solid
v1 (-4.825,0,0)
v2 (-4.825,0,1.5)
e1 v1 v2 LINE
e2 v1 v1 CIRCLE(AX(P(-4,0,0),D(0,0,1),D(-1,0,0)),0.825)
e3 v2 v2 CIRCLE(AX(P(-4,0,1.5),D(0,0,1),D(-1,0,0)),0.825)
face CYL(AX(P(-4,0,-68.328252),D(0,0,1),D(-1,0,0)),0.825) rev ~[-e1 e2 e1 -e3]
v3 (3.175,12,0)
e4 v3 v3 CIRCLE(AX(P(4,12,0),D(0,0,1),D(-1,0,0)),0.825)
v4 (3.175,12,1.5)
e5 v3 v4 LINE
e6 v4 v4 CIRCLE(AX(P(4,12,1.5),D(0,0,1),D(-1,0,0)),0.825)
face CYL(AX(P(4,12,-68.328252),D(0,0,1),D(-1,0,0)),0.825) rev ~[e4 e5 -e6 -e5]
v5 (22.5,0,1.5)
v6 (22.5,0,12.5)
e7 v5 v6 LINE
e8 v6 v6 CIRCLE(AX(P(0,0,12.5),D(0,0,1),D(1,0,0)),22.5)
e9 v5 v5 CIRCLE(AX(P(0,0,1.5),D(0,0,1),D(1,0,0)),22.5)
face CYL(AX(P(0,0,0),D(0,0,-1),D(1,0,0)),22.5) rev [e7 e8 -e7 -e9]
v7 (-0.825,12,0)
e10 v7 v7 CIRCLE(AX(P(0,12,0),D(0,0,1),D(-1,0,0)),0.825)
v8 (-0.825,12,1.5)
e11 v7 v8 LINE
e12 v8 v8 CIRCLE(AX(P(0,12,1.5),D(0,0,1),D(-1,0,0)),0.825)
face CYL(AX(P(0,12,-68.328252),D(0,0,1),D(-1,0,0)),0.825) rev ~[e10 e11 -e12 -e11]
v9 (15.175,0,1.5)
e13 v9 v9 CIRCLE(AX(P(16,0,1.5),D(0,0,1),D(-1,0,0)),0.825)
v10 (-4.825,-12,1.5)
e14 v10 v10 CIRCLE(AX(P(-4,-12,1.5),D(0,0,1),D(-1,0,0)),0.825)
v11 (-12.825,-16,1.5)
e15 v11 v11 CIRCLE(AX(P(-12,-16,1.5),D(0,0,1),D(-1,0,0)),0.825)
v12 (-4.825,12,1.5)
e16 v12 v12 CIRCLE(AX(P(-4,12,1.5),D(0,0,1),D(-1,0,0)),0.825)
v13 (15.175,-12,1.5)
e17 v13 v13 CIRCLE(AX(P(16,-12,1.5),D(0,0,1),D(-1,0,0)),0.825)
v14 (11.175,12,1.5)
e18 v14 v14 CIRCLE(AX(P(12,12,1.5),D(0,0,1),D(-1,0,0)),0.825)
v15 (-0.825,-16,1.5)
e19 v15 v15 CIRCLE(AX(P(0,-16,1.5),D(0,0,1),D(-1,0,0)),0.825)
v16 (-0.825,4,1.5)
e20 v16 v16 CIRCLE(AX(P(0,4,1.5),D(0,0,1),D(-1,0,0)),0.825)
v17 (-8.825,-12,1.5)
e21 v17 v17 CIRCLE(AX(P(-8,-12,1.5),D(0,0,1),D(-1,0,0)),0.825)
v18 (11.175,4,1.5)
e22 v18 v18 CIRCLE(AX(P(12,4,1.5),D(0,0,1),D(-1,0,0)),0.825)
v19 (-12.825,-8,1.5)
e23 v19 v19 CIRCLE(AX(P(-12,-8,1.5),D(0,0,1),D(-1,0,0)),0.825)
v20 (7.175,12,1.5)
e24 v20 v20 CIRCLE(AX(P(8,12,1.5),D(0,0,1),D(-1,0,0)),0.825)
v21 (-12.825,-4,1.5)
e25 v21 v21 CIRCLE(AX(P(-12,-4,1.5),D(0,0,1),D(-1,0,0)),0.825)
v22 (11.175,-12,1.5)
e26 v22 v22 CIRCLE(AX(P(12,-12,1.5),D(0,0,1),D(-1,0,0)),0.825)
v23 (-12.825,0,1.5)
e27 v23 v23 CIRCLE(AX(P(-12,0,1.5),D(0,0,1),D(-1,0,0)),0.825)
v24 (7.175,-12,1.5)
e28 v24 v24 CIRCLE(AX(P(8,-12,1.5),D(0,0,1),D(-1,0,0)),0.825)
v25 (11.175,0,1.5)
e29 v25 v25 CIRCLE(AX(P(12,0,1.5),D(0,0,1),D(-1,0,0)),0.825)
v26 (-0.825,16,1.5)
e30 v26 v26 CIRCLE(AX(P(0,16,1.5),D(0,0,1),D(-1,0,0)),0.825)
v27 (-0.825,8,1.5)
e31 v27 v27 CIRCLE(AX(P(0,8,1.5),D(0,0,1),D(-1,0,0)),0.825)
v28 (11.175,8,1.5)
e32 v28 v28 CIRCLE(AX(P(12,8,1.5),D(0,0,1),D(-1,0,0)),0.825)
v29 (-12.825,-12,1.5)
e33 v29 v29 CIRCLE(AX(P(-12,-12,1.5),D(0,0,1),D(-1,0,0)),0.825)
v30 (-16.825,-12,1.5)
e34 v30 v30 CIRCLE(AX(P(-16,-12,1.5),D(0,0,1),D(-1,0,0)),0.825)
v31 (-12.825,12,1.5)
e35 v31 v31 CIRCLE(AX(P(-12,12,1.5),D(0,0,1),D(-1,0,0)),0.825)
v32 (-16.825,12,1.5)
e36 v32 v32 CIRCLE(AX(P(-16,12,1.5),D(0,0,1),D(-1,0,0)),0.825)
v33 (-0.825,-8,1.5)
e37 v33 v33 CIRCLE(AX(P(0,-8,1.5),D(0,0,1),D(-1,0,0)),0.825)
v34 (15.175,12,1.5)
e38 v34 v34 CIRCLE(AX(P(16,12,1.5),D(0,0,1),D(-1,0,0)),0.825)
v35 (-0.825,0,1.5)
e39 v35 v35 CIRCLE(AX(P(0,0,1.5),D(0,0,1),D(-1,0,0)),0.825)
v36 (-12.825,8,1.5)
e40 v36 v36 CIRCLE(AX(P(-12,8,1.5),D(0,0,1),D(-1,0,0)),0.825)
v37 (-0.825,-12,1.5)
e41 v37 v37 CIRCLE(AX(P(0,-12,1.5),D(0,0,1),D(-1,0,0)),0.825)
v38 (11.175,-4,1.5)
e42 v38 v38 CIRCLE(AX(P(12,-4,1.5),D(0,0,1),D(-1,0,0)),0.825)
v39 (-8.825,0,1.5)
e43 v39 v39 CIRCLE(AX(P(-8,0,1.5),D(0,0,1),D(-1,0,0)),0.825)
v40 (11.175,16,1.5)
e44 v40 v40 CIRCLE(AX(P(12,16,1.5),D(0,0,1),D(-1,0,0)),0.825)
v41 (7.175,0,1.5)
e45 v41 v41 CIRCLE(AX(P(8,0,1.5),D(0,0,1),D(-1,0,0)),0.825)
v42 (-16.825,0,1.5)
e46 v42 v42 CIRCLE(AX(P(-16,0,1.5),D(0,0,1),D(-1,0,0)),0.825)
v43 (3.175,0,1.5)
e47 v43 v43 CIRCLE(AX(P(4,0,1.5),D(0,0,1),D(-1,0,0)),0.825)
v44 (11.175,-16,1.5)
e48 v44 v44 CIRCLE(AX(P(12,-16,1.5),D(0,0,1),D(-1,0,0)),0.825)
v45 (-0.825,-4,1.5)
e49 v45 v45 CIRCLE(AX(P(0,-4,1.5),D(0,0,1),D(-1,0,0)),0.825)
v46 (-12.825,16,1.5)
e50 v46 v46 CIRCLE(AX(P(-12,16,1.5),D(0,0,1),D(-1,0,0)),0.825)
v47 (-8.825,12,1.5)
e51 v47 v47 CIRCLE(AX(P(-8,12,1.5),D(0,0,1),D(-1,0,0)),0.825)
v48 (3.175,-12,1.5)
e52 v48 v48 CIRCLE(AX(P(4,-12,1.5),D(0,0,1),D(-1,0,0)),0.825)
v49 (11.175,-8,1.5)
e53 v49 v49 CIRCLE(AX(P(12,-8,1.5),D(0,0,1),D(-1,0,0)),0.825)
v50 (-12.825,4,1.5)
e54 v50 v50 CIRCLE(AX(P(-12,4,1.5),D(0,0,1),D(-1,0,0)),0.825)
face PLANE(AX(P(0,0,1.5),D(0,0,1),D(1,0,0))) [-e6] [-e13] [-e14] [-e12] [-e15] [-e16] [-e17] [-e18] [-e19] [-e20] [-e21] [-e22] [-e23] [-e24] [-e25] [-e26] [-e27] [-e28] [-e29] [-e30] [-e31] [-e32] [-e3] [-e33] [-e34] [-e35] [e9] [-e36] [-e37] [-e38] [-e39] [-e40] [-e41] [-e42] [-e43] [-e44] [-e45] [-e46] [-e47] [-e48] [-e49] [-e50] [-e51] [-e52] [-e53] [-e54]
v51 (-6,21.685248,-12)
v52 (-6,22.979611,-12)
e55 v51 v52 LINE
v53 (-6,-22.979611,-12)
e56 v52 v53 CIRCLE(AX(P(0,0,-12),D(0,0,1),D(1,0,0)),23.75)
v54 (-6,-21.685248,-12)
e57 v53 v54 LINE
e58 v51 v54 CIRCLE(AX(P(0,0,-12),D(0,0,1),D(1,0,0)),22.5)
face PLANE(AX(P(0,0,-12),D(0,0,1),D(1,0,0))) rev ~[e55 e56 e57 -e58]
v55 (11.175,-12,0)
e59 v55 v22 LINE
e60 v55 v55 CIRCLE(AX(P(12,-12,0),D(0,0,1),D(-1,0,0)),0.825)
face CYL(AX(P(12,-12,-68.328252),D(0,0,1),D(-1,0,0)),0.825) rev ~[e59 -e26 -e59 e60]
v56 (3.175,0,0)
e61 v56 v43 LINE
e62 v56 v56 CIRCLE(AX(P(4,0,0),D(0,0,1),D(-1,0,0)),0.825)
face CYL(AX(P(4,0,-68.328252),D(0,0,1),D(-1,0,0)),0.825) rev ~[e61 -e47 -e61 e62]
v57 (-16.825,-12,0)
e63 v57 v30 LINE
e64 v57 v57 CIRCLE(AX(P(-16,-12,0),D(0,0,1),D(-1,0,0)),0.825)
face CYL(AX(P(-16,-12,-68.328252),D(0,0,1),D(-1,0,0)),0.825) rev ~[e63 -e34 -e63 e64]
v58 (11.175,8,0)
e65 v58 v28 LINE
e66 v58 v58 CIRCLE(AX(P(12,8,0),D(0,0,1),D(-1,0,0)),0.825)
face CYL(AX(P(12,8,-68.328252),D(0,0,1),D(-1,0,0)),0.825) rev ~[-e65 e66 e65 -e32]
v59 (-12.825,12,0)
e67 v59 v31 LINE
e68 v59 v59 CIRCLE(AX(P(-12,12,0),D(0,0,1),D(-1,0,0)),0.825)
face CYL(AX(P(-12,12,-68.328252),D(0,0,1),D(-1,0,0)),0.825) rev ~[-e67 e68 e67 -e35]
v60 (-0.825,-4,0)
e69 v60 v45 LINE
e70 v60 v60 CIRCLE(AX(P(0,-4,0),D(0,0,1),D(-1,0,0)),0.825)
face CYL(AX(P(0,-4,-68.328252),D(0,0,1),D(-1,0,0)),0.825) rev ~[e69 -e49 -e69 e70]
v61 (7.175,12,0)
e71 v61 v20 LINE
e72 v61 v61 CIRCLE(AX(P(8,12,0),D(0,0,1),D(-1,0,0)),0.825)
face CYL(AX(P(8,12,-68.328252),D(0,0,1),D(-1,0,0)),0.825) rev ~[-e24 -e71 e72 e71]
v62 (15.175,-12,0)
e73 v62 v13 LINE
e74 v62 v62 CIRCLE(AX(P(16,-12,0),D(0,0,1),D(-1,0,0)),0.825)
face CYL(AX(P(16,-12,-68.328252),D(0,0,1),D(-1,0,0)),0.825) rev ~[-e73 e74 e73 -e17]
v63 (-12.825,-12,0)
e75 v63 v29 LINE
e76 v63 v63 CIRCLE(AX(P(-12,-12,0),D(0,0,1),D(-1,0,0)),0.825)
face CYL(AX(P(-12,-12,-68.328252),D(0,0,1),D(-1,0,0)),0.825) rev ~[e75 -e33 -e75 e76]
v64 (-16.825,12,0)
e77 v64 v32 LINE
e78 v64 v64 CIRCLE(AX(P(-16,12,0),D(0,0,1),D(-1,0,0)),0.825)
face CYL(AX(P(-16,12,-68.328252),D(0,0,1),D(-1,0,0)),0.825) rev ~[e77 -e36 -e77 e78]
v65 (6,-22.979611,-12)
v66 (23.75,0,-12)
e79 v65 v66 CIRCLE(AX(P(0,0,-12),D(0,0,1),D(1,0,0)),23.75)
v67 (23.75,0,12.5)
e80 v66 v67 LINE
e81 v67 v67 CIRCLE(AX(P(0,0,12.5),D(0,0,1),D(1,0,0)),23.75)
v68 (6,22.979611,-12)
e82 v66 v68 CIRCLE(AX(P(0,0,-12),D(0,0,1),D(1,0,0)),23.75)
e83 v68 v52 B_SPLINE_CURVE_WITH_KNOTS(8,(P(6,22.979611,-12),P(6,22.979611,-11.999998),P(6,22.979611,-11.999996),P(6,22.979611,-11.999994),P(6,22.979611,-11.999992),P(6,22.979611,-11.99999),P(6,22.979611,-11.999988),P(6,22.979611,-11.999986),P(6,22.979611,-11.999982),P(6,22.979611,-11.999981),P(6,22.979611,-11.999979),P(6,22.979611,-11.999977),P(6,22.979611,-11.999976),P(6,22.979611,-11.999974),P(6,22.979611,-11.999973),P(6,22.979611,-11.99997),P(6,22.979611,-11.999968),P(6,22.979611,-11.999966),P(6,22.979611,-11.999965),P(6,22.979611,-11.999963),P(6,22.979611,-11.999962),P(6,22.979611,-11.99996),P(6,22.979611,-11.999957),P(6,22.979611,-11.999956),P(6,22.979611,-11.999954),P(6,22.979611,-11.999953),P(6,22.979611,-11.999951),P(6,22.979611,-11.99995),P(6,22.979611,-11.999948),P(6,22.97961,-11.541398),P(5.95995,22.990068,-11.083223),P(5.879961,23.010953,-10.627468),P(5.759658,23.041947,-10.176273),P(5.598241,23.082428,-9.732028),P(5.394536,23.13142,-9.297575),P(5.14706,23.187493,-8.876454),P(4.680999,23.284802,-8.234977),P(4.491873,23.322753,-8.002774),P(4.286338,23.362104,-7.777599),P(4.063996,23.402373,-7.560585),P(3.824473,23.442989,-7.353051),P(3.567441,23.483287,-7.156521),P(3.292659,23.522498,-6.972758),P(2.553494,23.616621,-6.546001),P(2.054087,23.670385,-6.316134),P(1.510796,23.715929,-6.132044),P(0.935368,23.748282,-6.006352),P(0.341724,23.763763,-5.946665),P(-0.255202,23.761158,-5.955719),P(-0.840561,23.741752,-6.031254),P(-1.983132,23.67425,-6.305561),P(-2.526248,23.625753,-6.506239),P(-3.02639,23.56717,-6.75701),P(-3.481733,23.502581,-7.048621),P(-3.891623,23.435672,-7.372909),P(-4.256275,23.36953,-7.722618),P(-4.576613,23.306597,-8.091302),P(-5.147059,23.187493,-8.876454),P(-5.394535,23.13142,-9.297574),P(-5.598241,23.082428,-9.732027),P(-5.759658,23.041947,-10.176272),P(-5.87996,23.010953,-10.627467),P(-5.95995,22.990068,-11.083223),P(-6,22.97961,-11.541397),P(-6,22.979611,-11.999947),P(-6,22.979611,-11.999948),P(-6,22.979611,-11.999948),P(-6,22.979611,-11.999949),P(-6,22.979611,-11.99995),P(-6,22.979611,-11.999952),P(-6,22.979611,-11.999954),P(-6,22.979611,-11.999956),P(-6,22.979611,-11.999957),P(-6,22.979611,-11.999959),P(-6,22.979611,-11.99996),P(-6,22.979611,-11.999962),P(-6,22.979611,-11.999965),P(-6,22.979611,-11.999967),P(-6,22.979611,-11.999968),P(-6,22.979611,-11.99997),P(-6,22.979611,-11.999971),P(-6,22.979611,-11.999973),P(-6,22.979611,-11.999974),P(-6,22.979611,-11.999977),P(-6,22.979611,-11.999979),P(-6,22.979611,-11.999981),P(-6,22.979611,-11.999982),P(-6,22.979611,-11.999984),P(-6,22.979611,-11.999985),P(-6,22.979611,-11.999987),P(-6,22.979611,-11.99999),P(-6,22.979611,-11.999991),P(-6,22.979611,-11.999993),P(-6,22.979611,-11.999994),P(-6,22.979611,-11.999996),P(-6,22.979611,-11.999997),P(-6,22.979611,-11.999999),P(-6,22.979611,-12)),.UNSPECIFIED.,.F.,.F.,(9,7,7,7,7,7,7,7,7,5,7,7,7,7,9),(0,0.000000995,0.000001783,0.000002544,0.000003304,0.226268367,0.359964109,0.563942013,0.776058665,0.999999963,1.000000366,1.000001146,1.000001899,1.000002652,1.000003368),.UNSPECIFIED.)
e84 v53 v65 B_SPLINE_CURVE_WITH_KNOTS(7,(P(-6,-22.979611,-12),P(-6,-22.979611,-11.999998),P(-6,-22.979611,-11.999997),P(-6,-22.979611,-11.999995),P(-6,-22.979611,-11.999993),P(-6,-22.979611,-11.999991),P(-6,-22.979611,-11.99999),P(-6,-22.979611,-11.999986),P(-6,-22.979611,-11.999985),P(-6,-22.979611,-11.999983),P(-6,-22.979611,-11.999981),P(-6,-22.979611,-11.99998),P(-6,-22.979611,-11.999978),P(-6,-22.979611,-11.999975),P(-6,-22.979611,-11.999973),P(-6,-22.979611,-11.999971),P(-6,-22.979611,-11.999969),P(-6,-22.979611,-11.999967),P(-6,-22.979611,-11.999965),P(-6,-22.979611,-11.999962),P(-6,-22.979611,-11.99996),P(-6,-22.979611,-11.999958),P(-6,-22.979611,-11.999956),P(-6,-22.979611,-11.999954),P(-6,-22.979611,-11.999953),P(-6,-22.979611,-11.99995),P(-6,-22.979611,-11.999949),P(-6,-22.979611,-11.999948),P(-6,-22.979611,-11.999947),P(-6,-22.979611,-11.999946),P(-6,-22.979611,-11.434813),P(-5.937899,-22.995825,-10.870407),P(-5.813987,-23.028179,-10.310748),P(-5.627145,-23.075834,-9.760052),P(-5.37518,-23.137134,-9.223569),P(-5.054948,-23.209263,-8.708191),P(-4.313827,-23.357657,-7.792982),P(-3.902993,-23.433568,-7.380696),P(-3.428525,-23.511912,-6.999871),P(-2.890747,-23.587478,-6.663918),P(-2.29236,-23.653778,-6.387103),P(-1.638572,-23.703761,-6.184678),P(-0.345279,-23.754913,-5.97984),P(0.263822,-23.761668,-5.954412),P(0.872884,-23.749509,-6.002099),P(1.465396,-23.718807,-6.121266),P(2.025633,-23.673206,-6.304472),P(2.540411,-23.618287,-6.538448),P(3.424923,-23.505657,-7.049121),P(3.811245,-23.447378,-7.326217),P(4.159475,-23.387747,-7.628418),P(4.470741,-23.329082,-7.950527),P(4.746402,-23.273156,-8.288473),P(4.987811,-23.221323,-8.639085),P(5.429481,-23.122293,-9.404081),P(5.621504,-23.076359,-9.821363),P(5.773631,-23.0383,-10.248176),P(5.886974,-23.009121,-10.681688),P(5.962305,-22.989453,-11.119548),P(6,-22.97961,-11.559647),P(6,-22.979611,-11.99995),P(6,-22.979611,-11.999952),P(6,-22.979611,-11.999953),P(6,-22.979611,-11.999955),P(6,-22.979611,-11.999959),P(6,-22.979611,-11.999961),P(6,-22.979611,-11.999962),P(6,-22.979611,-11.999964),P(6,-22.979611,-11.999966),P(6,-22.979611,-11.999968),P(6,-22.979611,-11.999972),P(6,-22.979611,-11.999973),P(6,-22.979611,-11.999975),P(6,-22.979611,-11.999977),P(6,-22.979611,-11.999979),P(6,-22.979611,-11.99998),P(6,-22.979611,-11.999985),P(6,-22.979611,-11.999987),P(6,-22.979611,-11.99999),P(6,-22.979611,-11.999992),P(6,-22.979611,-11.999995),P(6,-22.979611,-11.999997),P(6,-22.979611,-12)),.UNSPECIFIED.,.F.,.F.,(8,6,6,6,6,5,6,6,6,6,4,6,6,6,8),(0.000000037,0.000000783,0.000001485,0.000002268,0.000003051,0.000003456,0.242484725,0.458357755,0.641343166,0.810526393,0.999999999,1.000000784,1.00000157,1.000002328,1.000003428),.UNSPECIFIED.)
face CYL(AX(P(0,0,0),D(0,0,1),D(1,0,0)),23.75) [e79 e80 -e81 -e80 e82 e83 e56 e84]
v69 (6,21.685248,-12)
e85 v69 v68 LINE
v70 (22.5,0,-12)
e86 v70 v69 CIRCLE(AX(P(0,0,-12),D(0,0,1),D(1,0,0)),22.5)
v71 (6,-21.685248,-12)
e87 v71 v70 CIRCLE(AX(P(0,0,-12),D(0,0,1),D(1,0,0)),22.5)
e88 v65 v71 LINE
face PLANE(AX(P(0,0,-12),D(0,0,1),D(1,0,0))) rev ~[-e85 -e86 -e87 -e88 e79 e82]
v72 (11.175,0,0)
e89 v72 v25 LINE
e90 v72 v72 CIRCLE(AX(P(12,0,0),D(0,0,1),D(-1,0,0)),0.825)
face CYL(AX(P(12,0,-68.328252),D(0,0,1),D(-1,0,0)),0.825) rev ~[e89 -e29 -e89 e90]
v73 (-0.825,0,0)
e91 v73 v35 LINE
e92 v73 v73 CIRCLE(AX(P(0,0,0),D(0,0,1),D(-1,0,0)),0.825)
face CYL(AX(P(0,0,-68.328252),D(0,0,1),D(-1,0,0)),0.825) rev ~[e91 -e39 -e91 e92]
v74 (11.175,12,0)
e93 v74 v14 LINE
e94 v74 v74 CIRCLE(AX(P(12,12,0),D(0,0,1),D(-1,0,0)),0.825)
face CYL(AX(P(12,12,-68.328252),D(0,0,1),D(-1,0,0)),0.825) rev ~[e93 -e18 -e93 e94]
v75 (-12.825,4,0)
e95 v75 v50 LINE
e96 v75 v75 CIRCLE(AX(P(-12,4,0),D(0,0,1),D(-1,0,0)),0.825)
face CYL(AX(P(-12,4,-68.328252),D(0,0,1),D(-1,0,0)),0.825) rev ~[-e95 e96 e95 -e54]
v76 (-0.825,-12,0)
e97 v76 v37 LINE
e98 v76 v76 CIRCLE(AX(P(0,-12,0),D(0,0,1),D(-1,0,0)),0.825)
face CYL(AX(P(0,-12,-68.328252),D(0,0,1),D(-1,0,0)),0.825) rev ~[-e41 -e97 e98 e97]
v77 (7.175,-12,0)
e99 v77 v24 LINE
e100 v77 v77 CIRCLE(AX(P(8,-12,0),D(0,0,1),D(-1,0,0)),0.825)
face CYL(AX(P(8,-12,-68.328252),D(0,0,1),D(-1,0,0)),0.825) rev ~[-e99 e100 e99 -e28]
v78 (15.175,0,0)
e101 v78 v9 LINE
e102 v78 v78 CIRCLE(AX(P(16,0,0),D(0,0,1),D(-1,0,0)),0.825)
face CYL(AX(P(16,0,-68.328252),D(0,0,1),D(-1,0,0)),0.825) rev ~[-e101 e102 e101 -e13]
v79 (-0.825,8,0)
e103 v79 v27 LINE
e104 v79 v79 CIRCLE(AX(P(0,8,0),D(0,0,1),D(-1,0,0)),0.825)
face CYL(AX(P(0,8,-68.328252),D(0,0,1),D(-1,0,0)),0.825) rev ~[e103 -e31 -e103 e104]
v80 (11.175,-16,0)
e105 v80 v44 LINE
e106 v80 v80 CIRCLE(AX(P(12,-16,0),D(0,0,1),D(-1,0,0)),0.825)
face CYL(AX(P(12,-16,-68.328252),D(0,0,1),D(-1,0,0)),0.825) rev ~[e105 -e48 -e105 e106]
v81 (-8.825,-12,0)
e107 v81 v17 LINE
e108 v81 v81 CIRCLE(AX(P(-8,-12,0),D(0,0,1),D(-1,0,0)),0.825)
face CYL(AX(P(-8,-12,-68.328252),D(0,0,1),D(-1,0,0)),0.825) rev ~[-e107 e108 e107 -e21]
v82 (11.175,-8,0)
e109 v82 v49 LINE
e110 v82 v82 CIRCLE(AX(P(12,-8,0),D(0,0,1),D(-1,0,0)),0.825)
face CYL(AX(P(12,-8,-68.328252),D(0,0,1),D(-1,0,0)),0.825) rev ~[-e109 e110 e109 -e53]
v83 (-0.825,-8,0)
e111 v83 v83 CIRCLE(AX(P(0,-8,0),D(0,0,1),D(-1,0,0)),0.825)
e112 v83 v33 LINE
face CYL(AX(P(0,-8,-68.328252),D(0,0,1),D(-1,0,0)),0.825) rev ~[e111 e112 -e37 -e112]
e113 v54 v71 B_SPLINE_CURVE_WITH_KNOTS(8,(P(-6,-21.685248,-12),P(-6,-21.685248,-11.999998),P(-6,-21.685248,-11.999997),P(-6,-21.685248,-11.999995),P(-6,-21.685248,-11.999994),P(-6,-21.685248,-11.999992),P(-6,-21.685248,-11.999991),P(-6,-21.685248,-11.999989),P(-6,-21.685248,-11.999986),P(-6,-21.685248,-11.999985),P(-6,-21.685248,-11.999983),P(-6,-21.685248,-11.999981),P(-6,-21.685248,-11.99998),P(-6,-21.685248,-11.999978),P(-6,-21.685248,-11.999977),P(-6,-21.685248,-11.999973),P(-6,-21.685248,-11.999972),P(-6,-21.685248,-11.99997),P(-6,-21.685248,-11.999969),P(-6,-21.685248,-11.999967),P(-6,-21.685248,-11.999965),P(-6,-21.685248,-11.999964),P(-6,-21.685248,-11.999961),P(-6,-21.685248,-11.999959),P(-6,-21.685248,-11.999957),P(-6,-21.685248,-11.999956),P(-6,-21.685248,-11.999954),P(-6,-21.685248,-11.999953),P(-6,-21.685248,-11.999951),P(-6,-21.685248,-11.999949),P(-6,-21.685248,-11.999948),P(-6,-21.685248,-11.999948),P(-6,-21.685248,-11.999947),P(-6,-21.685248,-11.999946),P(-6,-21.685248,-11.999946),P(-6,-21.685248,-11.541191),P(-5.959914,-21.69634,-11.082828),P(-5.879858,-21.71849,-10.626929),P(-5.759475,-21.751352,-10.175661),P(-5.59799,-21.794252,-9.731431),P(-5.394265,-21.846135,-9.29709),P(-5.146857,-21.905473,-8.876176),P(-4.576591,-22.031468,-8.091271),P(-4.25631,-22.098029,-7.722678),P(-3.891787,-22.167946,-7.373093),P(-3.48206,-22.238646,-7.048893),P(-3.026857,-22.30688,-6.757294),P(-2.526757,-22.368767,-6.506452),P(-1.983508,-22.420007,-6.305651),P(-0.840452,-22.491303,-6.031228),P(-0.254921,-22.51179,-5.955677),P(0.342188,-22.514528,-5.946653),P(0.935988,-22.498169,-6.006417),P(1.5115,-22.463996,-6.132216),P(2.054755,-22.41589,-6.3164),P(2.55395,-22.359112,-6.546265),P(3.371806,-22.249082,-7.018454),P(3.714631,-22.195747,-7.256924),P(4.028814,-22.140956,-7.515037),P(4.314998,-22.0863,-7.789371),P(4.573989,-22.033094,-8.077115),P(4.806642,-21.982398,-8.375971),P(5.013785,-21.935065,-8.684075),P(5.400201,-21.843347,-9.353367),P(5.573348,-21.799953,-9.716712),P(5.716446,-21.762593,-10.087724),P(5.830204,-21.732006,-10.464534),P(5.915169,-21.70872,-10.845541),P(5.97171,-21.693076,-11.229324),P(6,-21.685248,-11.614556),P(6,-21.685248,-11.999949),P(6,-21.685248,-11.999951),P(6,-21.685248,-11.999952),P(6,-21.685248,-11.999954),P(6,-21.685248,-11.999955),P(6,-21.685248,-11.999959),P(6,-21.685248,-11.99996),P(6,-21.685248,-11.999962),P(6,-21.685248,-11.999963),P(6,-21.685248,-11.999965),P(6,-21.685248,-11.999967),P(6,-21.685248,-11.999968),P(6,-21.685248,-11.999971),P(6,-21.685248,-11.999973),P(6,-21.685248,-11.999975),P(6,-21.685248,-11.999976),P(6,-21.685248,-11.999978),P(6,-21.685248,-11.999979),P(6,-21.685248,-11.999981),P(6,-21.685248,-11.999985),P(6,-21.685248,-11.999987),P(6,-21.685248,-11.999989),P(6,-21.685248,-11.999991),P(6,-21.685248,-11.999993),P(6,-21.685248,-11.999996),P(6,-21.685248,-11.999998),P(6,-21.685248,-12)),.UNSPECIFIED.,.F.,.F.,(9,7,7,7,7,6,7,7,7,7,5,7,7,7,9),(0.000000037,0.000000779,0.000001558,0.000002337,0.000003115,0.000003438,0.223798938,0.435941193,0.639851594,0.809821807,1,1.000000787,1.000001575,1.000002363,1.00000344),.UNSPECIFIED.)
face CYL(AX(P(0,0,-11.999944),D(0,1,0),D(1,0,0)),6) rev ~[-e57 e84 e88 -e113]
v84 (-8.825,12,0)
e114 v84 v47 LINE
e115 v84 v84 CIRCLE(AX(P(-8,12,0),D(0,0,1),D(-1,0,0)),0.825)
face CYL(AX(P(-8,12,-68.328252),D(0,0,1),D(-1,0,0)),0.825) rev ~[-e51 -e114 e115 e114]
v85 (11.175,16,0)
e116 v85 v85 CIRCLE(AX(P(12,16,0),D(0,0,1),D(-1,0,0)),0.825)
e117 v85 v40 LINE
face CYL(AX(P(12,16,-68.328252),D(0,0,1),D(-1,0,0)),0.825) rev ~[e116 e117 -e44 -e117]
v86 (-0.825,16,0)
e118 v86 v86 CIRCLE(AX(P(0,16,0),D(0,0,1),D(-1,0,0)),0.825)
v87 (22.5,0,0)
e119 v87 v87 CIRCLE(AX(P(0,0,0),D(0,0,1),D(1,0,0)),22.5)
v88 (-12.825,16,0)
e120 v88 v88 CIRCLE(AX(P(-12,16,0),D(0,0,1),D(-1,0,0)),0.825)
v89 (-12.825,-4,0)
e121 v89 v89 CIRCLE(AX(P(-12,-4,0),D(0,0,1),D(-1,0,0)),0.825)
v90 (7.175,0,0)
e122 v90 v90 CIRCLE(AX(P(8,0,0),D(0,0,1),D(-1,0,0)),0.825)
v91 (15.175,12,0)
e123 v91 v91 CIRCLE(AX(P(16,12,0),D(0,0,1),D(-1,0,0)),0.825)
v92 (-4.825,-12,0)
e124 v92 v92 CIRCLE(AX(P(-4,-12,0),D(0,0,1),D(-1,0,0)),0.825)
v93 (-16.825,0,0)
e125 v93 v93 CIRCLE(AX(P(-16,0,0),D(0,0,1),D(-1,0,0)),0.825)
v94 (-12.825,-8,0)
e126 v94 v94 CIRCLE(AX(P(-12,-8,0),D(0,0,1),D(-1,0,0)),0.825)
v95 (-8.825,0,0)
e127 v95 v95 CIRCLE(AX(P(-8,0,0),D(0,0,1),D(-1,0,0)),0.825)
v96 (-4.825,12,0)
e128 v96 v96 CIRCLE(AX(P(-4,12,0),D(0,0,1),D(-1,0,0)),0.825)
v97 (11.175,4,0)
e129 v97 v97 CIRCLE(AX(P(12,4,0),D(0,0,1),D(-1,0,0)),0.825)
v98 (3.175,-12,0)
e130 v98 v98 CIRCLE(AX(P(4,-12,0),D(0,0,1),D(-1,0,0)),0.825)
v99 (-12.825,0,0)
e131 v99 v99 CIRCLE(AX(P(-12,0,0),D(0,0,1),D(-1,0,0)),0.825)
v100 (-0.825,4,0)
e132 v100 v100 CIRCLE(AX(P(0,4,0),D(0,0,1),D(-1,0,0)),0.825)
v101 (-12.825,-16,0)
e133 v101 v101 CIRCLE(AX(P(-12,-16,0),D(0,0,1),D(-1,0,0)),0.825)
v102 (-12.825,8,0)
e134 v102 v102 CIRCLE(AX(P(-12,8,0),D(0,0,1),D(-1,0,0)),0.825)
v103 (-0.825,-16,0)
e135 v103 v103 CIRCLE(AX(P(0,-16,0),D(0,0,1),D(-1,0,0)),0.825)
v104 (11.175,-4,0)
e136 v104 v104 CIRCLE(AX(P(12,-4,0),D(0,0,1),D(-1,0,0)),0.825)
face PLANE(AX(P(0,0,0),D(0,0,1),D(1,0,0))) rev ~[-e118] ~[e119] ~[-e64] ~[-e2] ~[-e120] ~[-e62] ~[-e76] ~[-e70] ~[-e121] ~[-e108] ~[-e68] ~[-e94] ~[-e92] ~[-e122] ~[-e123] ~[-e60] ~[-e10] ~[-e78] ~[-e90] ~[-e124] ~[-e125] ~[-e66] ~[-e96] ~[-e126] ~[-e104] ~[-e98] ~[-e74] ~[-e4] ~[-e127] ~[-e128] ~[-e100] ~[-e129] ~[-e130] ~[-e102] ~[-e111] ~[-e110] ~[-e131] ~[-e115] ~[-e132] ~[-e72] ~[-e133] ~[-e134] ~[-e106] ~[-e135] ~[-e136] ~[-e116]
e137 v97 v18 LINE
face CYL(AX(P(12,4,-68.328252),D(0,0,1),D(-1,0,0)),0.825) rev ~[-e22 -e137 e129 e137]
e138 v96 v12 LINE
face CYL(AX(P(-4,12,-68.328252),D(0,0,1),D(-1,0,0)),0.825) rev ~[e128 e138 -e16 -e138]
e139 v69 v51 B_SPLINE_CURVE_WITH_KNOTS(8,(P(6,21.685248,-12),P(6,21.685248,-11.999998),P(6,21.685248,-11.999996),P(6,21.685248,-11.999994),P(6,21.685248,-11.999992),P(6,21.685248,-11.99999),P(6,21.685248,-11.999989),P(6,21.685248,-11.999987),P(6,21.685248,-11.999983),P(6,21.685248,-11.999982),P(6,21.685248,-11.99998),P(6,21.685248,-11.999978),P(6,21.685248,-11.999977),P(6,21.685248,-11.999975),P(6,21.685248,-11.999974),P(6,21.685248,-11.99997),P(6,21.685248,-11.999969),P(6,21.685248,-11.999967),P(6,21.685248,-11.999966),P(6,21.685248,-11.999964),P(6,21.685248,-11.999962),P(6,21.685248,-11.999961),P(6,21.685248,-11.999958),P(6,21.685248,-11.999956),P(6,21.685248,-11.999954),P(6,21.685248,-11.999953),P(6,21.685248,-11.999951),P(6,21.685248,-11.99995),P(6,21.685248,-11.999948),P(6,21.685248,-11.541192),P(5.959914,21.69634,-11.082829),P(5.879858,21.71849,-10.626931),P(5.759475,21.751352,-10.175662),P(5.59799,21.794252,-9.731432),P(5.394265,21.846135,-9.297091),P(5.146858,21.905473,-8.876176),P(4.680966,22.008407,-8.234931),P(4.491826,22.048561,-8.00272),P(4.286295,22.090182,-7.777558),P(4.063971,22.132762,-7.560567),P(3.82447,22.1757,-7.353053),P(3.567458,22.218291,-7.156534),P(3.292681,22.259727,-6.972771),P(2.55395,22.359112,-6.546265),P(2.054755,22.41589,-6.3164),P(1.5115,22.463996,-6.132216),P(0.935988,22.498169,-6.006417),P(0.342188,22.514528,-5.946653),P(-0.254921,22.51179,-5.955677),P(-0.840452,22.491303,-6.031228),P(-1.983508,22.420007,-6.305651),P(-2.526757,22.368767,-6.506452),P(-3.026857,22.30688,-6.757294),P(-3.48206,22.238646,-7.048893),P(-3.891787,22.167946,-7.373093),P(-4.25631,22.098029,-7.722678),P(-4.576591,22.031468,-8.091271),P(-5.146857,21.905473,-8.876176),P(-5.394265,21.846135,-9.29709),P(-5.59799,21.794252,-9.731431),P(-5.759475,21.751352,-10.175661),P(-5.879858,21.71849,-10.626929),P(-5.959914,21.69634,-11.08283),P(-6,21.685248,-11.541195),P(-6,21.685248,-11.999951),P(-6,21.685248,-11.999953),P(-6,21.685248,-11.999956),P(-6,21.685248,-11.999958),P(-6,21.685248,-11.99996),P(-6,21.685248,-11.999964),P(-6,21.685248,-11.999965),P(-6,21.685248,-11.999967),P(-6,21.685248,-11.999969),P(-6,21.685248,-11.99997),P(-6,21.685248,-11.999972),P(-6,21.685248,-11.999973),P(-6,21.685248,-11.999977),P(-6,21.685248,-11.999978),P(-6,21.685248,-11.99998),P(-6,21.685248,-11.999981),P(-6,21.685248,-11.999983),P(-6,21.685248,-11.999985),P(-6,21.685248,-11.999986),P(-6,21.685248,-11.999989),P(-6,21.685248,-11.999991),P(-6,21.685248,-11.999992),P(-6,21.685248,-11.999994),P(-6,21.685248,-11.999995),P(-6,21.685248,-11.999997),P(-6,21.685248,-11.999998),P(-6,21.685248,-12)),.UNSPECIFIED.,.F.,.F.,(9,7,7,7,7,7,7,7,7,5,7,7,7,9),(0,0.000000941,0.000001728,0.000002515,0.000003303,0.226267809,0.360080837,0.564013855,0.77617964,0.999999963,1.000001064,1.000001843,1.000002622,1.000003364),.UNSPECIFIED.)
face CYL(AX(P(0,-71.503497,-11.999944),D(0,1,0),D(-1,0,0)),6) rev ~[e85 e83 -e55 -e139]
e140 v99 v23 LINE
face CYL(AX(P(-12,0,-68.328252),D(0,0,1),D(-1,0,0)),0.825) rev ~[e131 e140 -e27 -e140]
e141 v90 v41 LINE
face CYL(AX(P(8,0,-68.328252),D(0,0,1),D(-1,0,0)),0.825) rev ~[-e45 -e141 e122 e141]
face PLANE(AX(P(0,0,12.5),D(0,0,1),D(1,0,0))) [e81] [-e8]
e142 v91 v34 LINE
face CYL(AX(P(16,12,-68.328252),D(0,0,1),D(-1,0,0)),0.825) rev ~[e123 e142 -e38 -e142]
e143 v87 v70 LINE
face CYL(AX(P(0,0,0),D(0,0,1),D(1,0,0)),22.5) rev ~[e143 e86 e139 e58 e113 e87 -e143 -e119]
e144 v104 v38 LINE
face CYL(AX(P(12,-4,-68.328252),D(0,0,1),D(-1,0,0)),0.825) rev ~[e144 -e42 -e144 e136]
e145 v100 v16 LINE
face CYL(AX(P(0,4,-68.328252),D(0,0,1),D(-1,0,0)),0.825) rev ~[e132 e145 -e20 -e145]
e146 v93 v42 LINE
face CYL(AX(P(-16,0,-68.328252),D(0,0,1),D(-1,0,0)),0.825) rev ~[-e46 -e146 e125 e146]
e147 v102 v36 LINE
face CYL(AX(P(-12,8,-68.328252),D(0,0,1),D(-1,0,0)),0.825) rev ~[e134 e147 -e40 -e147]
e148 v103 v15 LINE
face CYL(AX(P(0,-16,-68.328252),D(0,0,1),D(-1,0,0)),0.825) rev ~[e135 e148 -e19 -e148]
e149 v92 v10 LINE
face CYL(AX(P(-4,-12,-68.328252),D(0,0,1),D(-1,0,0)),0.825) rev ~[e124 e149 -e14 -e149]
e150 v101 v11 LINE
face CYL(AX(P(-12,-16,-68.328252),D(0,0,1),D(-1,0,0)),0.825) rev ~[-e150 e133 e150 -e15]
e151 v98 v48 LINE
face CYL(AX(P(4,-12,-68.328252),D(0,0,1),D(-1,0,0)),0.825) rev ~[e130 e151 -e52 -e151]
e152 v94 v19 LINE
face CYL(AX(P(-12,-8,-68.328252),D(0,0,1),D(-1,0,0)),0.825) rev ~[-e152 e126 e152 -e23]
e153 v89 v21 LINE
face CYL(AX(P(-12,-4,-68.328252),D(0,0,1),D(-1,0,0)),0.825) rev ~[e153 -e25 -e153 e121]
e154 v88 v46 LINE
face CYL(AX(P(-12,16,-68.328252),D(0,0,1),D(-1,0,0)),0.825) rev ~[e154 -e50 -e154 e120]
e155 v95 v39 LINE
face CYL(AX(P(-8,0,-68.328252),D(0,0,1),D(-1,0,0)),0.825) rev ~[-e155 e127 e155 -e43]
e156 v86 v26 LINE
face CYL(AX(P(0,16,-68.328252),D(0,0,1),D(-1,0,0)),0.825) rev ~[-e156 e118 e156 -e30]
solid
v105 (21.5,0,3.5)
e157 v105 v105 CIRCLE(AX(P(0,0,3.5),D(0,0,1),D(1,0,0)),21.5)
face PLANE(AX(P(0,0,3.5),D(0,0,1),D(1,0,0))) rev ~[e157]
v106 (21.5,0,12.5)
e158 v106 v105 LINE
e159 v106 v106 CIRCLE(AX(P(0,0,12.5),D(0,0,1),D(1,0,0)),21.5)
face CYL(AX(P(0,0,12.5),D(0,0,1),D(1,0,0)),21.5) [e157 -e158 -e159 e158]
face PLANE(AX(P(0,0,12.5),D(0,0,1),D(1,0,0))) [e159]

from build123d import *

# Parameters (mm, degrees)
F0_R     = 23.75
F0_R_2   = 22.5
F1_DEPTH = 12.5
F2_DEPTH = 1.5
F3_D     = 1.65
F4_DEPTH = 12
F6_D     = 12
F6_DEPTH = 23.751
F7_D     = 12
F8_R     = 21.5
F9_DEPTH = 9


with BuildPart() as f1:
    # F0 (on Top) → F1 (new body)
    with BuildSketch(Plane.XY):
        Circle(F0_R)
        Circle(F0_R_2, mode=Mode.SUBTRACT)
    extrude(amount=F1_DEPTH)

    # F0 (on Top) → F2 (join)
    with BuildSketch(Plane.XY):
        Circle(F0_R_2)
    extrude(amount=F2_DEPTH)

    # F3 (through all)
    with Locations(Plane(origin=(0, 0, 0), x_dir=(1, 0, 0), z_dir=(0, 0, -1))):
        with Locations((-16, -12), (-16, 0), (-12, 0), (-12, 4), (-12, -4), (-12, -8), (-12, -12), (-12, -16), (-8, -12), (-12, 16), (-12, 12), (-16, 12), (-8, 12), (-12, 8), (-4, 12), (0, 16), (0, 12), (0, 8), (4, 12), (8, 12), (0, 4), (-4, 0), (-8, 0), (0, -4), (4, 0), (0, 0), (0, -8), (-4, -12), (0, -12), (0, -16), (4, -12), (8, -12), (12, -16), (12, -12), (16, -12), (12, -8), (12, -4), (12, 0), (8, 0), (16, 0), (12, 4), (12, 8), (16, 12), (12, 12), (12, 16)):
            Hole(F3_D / 2)

    # F0 (on Top) → F4 (join)
    with BuildSketch(Plane.XY):
        Circle(F0_R)
        Circle(F0_R_2, mode=Mode.SUBTRACT)
    extrude(amount=-F4_DEPTH)

    # F6 (through all, one way)
    with BuildSketch(Plane(origin=(0, 0, 0), x_dir=(1, 0, 0), z_dir=(0, 1, 0))):
        with Locations((0, 11.999944225)):
            Circle(F6_D / 2)
    extrude(amount=-F6_DEPTH, mode=Mode.SUBTRACT)

    # F7 (through all)
    with Locations(Plane.XZ):
        with Locations((0, -11.999944225)):
            Hole(F7_D / 2)


with BuildPart() as f9:
    # F8 (on face) → F9 (new body, through all)
    with BuildSketch(Plane.XY.offset(12.5)):
        Circle(F8_R)
    extrude(amount=-F9_DEPTH)


solid = Compound([f1.part, f9.part])
